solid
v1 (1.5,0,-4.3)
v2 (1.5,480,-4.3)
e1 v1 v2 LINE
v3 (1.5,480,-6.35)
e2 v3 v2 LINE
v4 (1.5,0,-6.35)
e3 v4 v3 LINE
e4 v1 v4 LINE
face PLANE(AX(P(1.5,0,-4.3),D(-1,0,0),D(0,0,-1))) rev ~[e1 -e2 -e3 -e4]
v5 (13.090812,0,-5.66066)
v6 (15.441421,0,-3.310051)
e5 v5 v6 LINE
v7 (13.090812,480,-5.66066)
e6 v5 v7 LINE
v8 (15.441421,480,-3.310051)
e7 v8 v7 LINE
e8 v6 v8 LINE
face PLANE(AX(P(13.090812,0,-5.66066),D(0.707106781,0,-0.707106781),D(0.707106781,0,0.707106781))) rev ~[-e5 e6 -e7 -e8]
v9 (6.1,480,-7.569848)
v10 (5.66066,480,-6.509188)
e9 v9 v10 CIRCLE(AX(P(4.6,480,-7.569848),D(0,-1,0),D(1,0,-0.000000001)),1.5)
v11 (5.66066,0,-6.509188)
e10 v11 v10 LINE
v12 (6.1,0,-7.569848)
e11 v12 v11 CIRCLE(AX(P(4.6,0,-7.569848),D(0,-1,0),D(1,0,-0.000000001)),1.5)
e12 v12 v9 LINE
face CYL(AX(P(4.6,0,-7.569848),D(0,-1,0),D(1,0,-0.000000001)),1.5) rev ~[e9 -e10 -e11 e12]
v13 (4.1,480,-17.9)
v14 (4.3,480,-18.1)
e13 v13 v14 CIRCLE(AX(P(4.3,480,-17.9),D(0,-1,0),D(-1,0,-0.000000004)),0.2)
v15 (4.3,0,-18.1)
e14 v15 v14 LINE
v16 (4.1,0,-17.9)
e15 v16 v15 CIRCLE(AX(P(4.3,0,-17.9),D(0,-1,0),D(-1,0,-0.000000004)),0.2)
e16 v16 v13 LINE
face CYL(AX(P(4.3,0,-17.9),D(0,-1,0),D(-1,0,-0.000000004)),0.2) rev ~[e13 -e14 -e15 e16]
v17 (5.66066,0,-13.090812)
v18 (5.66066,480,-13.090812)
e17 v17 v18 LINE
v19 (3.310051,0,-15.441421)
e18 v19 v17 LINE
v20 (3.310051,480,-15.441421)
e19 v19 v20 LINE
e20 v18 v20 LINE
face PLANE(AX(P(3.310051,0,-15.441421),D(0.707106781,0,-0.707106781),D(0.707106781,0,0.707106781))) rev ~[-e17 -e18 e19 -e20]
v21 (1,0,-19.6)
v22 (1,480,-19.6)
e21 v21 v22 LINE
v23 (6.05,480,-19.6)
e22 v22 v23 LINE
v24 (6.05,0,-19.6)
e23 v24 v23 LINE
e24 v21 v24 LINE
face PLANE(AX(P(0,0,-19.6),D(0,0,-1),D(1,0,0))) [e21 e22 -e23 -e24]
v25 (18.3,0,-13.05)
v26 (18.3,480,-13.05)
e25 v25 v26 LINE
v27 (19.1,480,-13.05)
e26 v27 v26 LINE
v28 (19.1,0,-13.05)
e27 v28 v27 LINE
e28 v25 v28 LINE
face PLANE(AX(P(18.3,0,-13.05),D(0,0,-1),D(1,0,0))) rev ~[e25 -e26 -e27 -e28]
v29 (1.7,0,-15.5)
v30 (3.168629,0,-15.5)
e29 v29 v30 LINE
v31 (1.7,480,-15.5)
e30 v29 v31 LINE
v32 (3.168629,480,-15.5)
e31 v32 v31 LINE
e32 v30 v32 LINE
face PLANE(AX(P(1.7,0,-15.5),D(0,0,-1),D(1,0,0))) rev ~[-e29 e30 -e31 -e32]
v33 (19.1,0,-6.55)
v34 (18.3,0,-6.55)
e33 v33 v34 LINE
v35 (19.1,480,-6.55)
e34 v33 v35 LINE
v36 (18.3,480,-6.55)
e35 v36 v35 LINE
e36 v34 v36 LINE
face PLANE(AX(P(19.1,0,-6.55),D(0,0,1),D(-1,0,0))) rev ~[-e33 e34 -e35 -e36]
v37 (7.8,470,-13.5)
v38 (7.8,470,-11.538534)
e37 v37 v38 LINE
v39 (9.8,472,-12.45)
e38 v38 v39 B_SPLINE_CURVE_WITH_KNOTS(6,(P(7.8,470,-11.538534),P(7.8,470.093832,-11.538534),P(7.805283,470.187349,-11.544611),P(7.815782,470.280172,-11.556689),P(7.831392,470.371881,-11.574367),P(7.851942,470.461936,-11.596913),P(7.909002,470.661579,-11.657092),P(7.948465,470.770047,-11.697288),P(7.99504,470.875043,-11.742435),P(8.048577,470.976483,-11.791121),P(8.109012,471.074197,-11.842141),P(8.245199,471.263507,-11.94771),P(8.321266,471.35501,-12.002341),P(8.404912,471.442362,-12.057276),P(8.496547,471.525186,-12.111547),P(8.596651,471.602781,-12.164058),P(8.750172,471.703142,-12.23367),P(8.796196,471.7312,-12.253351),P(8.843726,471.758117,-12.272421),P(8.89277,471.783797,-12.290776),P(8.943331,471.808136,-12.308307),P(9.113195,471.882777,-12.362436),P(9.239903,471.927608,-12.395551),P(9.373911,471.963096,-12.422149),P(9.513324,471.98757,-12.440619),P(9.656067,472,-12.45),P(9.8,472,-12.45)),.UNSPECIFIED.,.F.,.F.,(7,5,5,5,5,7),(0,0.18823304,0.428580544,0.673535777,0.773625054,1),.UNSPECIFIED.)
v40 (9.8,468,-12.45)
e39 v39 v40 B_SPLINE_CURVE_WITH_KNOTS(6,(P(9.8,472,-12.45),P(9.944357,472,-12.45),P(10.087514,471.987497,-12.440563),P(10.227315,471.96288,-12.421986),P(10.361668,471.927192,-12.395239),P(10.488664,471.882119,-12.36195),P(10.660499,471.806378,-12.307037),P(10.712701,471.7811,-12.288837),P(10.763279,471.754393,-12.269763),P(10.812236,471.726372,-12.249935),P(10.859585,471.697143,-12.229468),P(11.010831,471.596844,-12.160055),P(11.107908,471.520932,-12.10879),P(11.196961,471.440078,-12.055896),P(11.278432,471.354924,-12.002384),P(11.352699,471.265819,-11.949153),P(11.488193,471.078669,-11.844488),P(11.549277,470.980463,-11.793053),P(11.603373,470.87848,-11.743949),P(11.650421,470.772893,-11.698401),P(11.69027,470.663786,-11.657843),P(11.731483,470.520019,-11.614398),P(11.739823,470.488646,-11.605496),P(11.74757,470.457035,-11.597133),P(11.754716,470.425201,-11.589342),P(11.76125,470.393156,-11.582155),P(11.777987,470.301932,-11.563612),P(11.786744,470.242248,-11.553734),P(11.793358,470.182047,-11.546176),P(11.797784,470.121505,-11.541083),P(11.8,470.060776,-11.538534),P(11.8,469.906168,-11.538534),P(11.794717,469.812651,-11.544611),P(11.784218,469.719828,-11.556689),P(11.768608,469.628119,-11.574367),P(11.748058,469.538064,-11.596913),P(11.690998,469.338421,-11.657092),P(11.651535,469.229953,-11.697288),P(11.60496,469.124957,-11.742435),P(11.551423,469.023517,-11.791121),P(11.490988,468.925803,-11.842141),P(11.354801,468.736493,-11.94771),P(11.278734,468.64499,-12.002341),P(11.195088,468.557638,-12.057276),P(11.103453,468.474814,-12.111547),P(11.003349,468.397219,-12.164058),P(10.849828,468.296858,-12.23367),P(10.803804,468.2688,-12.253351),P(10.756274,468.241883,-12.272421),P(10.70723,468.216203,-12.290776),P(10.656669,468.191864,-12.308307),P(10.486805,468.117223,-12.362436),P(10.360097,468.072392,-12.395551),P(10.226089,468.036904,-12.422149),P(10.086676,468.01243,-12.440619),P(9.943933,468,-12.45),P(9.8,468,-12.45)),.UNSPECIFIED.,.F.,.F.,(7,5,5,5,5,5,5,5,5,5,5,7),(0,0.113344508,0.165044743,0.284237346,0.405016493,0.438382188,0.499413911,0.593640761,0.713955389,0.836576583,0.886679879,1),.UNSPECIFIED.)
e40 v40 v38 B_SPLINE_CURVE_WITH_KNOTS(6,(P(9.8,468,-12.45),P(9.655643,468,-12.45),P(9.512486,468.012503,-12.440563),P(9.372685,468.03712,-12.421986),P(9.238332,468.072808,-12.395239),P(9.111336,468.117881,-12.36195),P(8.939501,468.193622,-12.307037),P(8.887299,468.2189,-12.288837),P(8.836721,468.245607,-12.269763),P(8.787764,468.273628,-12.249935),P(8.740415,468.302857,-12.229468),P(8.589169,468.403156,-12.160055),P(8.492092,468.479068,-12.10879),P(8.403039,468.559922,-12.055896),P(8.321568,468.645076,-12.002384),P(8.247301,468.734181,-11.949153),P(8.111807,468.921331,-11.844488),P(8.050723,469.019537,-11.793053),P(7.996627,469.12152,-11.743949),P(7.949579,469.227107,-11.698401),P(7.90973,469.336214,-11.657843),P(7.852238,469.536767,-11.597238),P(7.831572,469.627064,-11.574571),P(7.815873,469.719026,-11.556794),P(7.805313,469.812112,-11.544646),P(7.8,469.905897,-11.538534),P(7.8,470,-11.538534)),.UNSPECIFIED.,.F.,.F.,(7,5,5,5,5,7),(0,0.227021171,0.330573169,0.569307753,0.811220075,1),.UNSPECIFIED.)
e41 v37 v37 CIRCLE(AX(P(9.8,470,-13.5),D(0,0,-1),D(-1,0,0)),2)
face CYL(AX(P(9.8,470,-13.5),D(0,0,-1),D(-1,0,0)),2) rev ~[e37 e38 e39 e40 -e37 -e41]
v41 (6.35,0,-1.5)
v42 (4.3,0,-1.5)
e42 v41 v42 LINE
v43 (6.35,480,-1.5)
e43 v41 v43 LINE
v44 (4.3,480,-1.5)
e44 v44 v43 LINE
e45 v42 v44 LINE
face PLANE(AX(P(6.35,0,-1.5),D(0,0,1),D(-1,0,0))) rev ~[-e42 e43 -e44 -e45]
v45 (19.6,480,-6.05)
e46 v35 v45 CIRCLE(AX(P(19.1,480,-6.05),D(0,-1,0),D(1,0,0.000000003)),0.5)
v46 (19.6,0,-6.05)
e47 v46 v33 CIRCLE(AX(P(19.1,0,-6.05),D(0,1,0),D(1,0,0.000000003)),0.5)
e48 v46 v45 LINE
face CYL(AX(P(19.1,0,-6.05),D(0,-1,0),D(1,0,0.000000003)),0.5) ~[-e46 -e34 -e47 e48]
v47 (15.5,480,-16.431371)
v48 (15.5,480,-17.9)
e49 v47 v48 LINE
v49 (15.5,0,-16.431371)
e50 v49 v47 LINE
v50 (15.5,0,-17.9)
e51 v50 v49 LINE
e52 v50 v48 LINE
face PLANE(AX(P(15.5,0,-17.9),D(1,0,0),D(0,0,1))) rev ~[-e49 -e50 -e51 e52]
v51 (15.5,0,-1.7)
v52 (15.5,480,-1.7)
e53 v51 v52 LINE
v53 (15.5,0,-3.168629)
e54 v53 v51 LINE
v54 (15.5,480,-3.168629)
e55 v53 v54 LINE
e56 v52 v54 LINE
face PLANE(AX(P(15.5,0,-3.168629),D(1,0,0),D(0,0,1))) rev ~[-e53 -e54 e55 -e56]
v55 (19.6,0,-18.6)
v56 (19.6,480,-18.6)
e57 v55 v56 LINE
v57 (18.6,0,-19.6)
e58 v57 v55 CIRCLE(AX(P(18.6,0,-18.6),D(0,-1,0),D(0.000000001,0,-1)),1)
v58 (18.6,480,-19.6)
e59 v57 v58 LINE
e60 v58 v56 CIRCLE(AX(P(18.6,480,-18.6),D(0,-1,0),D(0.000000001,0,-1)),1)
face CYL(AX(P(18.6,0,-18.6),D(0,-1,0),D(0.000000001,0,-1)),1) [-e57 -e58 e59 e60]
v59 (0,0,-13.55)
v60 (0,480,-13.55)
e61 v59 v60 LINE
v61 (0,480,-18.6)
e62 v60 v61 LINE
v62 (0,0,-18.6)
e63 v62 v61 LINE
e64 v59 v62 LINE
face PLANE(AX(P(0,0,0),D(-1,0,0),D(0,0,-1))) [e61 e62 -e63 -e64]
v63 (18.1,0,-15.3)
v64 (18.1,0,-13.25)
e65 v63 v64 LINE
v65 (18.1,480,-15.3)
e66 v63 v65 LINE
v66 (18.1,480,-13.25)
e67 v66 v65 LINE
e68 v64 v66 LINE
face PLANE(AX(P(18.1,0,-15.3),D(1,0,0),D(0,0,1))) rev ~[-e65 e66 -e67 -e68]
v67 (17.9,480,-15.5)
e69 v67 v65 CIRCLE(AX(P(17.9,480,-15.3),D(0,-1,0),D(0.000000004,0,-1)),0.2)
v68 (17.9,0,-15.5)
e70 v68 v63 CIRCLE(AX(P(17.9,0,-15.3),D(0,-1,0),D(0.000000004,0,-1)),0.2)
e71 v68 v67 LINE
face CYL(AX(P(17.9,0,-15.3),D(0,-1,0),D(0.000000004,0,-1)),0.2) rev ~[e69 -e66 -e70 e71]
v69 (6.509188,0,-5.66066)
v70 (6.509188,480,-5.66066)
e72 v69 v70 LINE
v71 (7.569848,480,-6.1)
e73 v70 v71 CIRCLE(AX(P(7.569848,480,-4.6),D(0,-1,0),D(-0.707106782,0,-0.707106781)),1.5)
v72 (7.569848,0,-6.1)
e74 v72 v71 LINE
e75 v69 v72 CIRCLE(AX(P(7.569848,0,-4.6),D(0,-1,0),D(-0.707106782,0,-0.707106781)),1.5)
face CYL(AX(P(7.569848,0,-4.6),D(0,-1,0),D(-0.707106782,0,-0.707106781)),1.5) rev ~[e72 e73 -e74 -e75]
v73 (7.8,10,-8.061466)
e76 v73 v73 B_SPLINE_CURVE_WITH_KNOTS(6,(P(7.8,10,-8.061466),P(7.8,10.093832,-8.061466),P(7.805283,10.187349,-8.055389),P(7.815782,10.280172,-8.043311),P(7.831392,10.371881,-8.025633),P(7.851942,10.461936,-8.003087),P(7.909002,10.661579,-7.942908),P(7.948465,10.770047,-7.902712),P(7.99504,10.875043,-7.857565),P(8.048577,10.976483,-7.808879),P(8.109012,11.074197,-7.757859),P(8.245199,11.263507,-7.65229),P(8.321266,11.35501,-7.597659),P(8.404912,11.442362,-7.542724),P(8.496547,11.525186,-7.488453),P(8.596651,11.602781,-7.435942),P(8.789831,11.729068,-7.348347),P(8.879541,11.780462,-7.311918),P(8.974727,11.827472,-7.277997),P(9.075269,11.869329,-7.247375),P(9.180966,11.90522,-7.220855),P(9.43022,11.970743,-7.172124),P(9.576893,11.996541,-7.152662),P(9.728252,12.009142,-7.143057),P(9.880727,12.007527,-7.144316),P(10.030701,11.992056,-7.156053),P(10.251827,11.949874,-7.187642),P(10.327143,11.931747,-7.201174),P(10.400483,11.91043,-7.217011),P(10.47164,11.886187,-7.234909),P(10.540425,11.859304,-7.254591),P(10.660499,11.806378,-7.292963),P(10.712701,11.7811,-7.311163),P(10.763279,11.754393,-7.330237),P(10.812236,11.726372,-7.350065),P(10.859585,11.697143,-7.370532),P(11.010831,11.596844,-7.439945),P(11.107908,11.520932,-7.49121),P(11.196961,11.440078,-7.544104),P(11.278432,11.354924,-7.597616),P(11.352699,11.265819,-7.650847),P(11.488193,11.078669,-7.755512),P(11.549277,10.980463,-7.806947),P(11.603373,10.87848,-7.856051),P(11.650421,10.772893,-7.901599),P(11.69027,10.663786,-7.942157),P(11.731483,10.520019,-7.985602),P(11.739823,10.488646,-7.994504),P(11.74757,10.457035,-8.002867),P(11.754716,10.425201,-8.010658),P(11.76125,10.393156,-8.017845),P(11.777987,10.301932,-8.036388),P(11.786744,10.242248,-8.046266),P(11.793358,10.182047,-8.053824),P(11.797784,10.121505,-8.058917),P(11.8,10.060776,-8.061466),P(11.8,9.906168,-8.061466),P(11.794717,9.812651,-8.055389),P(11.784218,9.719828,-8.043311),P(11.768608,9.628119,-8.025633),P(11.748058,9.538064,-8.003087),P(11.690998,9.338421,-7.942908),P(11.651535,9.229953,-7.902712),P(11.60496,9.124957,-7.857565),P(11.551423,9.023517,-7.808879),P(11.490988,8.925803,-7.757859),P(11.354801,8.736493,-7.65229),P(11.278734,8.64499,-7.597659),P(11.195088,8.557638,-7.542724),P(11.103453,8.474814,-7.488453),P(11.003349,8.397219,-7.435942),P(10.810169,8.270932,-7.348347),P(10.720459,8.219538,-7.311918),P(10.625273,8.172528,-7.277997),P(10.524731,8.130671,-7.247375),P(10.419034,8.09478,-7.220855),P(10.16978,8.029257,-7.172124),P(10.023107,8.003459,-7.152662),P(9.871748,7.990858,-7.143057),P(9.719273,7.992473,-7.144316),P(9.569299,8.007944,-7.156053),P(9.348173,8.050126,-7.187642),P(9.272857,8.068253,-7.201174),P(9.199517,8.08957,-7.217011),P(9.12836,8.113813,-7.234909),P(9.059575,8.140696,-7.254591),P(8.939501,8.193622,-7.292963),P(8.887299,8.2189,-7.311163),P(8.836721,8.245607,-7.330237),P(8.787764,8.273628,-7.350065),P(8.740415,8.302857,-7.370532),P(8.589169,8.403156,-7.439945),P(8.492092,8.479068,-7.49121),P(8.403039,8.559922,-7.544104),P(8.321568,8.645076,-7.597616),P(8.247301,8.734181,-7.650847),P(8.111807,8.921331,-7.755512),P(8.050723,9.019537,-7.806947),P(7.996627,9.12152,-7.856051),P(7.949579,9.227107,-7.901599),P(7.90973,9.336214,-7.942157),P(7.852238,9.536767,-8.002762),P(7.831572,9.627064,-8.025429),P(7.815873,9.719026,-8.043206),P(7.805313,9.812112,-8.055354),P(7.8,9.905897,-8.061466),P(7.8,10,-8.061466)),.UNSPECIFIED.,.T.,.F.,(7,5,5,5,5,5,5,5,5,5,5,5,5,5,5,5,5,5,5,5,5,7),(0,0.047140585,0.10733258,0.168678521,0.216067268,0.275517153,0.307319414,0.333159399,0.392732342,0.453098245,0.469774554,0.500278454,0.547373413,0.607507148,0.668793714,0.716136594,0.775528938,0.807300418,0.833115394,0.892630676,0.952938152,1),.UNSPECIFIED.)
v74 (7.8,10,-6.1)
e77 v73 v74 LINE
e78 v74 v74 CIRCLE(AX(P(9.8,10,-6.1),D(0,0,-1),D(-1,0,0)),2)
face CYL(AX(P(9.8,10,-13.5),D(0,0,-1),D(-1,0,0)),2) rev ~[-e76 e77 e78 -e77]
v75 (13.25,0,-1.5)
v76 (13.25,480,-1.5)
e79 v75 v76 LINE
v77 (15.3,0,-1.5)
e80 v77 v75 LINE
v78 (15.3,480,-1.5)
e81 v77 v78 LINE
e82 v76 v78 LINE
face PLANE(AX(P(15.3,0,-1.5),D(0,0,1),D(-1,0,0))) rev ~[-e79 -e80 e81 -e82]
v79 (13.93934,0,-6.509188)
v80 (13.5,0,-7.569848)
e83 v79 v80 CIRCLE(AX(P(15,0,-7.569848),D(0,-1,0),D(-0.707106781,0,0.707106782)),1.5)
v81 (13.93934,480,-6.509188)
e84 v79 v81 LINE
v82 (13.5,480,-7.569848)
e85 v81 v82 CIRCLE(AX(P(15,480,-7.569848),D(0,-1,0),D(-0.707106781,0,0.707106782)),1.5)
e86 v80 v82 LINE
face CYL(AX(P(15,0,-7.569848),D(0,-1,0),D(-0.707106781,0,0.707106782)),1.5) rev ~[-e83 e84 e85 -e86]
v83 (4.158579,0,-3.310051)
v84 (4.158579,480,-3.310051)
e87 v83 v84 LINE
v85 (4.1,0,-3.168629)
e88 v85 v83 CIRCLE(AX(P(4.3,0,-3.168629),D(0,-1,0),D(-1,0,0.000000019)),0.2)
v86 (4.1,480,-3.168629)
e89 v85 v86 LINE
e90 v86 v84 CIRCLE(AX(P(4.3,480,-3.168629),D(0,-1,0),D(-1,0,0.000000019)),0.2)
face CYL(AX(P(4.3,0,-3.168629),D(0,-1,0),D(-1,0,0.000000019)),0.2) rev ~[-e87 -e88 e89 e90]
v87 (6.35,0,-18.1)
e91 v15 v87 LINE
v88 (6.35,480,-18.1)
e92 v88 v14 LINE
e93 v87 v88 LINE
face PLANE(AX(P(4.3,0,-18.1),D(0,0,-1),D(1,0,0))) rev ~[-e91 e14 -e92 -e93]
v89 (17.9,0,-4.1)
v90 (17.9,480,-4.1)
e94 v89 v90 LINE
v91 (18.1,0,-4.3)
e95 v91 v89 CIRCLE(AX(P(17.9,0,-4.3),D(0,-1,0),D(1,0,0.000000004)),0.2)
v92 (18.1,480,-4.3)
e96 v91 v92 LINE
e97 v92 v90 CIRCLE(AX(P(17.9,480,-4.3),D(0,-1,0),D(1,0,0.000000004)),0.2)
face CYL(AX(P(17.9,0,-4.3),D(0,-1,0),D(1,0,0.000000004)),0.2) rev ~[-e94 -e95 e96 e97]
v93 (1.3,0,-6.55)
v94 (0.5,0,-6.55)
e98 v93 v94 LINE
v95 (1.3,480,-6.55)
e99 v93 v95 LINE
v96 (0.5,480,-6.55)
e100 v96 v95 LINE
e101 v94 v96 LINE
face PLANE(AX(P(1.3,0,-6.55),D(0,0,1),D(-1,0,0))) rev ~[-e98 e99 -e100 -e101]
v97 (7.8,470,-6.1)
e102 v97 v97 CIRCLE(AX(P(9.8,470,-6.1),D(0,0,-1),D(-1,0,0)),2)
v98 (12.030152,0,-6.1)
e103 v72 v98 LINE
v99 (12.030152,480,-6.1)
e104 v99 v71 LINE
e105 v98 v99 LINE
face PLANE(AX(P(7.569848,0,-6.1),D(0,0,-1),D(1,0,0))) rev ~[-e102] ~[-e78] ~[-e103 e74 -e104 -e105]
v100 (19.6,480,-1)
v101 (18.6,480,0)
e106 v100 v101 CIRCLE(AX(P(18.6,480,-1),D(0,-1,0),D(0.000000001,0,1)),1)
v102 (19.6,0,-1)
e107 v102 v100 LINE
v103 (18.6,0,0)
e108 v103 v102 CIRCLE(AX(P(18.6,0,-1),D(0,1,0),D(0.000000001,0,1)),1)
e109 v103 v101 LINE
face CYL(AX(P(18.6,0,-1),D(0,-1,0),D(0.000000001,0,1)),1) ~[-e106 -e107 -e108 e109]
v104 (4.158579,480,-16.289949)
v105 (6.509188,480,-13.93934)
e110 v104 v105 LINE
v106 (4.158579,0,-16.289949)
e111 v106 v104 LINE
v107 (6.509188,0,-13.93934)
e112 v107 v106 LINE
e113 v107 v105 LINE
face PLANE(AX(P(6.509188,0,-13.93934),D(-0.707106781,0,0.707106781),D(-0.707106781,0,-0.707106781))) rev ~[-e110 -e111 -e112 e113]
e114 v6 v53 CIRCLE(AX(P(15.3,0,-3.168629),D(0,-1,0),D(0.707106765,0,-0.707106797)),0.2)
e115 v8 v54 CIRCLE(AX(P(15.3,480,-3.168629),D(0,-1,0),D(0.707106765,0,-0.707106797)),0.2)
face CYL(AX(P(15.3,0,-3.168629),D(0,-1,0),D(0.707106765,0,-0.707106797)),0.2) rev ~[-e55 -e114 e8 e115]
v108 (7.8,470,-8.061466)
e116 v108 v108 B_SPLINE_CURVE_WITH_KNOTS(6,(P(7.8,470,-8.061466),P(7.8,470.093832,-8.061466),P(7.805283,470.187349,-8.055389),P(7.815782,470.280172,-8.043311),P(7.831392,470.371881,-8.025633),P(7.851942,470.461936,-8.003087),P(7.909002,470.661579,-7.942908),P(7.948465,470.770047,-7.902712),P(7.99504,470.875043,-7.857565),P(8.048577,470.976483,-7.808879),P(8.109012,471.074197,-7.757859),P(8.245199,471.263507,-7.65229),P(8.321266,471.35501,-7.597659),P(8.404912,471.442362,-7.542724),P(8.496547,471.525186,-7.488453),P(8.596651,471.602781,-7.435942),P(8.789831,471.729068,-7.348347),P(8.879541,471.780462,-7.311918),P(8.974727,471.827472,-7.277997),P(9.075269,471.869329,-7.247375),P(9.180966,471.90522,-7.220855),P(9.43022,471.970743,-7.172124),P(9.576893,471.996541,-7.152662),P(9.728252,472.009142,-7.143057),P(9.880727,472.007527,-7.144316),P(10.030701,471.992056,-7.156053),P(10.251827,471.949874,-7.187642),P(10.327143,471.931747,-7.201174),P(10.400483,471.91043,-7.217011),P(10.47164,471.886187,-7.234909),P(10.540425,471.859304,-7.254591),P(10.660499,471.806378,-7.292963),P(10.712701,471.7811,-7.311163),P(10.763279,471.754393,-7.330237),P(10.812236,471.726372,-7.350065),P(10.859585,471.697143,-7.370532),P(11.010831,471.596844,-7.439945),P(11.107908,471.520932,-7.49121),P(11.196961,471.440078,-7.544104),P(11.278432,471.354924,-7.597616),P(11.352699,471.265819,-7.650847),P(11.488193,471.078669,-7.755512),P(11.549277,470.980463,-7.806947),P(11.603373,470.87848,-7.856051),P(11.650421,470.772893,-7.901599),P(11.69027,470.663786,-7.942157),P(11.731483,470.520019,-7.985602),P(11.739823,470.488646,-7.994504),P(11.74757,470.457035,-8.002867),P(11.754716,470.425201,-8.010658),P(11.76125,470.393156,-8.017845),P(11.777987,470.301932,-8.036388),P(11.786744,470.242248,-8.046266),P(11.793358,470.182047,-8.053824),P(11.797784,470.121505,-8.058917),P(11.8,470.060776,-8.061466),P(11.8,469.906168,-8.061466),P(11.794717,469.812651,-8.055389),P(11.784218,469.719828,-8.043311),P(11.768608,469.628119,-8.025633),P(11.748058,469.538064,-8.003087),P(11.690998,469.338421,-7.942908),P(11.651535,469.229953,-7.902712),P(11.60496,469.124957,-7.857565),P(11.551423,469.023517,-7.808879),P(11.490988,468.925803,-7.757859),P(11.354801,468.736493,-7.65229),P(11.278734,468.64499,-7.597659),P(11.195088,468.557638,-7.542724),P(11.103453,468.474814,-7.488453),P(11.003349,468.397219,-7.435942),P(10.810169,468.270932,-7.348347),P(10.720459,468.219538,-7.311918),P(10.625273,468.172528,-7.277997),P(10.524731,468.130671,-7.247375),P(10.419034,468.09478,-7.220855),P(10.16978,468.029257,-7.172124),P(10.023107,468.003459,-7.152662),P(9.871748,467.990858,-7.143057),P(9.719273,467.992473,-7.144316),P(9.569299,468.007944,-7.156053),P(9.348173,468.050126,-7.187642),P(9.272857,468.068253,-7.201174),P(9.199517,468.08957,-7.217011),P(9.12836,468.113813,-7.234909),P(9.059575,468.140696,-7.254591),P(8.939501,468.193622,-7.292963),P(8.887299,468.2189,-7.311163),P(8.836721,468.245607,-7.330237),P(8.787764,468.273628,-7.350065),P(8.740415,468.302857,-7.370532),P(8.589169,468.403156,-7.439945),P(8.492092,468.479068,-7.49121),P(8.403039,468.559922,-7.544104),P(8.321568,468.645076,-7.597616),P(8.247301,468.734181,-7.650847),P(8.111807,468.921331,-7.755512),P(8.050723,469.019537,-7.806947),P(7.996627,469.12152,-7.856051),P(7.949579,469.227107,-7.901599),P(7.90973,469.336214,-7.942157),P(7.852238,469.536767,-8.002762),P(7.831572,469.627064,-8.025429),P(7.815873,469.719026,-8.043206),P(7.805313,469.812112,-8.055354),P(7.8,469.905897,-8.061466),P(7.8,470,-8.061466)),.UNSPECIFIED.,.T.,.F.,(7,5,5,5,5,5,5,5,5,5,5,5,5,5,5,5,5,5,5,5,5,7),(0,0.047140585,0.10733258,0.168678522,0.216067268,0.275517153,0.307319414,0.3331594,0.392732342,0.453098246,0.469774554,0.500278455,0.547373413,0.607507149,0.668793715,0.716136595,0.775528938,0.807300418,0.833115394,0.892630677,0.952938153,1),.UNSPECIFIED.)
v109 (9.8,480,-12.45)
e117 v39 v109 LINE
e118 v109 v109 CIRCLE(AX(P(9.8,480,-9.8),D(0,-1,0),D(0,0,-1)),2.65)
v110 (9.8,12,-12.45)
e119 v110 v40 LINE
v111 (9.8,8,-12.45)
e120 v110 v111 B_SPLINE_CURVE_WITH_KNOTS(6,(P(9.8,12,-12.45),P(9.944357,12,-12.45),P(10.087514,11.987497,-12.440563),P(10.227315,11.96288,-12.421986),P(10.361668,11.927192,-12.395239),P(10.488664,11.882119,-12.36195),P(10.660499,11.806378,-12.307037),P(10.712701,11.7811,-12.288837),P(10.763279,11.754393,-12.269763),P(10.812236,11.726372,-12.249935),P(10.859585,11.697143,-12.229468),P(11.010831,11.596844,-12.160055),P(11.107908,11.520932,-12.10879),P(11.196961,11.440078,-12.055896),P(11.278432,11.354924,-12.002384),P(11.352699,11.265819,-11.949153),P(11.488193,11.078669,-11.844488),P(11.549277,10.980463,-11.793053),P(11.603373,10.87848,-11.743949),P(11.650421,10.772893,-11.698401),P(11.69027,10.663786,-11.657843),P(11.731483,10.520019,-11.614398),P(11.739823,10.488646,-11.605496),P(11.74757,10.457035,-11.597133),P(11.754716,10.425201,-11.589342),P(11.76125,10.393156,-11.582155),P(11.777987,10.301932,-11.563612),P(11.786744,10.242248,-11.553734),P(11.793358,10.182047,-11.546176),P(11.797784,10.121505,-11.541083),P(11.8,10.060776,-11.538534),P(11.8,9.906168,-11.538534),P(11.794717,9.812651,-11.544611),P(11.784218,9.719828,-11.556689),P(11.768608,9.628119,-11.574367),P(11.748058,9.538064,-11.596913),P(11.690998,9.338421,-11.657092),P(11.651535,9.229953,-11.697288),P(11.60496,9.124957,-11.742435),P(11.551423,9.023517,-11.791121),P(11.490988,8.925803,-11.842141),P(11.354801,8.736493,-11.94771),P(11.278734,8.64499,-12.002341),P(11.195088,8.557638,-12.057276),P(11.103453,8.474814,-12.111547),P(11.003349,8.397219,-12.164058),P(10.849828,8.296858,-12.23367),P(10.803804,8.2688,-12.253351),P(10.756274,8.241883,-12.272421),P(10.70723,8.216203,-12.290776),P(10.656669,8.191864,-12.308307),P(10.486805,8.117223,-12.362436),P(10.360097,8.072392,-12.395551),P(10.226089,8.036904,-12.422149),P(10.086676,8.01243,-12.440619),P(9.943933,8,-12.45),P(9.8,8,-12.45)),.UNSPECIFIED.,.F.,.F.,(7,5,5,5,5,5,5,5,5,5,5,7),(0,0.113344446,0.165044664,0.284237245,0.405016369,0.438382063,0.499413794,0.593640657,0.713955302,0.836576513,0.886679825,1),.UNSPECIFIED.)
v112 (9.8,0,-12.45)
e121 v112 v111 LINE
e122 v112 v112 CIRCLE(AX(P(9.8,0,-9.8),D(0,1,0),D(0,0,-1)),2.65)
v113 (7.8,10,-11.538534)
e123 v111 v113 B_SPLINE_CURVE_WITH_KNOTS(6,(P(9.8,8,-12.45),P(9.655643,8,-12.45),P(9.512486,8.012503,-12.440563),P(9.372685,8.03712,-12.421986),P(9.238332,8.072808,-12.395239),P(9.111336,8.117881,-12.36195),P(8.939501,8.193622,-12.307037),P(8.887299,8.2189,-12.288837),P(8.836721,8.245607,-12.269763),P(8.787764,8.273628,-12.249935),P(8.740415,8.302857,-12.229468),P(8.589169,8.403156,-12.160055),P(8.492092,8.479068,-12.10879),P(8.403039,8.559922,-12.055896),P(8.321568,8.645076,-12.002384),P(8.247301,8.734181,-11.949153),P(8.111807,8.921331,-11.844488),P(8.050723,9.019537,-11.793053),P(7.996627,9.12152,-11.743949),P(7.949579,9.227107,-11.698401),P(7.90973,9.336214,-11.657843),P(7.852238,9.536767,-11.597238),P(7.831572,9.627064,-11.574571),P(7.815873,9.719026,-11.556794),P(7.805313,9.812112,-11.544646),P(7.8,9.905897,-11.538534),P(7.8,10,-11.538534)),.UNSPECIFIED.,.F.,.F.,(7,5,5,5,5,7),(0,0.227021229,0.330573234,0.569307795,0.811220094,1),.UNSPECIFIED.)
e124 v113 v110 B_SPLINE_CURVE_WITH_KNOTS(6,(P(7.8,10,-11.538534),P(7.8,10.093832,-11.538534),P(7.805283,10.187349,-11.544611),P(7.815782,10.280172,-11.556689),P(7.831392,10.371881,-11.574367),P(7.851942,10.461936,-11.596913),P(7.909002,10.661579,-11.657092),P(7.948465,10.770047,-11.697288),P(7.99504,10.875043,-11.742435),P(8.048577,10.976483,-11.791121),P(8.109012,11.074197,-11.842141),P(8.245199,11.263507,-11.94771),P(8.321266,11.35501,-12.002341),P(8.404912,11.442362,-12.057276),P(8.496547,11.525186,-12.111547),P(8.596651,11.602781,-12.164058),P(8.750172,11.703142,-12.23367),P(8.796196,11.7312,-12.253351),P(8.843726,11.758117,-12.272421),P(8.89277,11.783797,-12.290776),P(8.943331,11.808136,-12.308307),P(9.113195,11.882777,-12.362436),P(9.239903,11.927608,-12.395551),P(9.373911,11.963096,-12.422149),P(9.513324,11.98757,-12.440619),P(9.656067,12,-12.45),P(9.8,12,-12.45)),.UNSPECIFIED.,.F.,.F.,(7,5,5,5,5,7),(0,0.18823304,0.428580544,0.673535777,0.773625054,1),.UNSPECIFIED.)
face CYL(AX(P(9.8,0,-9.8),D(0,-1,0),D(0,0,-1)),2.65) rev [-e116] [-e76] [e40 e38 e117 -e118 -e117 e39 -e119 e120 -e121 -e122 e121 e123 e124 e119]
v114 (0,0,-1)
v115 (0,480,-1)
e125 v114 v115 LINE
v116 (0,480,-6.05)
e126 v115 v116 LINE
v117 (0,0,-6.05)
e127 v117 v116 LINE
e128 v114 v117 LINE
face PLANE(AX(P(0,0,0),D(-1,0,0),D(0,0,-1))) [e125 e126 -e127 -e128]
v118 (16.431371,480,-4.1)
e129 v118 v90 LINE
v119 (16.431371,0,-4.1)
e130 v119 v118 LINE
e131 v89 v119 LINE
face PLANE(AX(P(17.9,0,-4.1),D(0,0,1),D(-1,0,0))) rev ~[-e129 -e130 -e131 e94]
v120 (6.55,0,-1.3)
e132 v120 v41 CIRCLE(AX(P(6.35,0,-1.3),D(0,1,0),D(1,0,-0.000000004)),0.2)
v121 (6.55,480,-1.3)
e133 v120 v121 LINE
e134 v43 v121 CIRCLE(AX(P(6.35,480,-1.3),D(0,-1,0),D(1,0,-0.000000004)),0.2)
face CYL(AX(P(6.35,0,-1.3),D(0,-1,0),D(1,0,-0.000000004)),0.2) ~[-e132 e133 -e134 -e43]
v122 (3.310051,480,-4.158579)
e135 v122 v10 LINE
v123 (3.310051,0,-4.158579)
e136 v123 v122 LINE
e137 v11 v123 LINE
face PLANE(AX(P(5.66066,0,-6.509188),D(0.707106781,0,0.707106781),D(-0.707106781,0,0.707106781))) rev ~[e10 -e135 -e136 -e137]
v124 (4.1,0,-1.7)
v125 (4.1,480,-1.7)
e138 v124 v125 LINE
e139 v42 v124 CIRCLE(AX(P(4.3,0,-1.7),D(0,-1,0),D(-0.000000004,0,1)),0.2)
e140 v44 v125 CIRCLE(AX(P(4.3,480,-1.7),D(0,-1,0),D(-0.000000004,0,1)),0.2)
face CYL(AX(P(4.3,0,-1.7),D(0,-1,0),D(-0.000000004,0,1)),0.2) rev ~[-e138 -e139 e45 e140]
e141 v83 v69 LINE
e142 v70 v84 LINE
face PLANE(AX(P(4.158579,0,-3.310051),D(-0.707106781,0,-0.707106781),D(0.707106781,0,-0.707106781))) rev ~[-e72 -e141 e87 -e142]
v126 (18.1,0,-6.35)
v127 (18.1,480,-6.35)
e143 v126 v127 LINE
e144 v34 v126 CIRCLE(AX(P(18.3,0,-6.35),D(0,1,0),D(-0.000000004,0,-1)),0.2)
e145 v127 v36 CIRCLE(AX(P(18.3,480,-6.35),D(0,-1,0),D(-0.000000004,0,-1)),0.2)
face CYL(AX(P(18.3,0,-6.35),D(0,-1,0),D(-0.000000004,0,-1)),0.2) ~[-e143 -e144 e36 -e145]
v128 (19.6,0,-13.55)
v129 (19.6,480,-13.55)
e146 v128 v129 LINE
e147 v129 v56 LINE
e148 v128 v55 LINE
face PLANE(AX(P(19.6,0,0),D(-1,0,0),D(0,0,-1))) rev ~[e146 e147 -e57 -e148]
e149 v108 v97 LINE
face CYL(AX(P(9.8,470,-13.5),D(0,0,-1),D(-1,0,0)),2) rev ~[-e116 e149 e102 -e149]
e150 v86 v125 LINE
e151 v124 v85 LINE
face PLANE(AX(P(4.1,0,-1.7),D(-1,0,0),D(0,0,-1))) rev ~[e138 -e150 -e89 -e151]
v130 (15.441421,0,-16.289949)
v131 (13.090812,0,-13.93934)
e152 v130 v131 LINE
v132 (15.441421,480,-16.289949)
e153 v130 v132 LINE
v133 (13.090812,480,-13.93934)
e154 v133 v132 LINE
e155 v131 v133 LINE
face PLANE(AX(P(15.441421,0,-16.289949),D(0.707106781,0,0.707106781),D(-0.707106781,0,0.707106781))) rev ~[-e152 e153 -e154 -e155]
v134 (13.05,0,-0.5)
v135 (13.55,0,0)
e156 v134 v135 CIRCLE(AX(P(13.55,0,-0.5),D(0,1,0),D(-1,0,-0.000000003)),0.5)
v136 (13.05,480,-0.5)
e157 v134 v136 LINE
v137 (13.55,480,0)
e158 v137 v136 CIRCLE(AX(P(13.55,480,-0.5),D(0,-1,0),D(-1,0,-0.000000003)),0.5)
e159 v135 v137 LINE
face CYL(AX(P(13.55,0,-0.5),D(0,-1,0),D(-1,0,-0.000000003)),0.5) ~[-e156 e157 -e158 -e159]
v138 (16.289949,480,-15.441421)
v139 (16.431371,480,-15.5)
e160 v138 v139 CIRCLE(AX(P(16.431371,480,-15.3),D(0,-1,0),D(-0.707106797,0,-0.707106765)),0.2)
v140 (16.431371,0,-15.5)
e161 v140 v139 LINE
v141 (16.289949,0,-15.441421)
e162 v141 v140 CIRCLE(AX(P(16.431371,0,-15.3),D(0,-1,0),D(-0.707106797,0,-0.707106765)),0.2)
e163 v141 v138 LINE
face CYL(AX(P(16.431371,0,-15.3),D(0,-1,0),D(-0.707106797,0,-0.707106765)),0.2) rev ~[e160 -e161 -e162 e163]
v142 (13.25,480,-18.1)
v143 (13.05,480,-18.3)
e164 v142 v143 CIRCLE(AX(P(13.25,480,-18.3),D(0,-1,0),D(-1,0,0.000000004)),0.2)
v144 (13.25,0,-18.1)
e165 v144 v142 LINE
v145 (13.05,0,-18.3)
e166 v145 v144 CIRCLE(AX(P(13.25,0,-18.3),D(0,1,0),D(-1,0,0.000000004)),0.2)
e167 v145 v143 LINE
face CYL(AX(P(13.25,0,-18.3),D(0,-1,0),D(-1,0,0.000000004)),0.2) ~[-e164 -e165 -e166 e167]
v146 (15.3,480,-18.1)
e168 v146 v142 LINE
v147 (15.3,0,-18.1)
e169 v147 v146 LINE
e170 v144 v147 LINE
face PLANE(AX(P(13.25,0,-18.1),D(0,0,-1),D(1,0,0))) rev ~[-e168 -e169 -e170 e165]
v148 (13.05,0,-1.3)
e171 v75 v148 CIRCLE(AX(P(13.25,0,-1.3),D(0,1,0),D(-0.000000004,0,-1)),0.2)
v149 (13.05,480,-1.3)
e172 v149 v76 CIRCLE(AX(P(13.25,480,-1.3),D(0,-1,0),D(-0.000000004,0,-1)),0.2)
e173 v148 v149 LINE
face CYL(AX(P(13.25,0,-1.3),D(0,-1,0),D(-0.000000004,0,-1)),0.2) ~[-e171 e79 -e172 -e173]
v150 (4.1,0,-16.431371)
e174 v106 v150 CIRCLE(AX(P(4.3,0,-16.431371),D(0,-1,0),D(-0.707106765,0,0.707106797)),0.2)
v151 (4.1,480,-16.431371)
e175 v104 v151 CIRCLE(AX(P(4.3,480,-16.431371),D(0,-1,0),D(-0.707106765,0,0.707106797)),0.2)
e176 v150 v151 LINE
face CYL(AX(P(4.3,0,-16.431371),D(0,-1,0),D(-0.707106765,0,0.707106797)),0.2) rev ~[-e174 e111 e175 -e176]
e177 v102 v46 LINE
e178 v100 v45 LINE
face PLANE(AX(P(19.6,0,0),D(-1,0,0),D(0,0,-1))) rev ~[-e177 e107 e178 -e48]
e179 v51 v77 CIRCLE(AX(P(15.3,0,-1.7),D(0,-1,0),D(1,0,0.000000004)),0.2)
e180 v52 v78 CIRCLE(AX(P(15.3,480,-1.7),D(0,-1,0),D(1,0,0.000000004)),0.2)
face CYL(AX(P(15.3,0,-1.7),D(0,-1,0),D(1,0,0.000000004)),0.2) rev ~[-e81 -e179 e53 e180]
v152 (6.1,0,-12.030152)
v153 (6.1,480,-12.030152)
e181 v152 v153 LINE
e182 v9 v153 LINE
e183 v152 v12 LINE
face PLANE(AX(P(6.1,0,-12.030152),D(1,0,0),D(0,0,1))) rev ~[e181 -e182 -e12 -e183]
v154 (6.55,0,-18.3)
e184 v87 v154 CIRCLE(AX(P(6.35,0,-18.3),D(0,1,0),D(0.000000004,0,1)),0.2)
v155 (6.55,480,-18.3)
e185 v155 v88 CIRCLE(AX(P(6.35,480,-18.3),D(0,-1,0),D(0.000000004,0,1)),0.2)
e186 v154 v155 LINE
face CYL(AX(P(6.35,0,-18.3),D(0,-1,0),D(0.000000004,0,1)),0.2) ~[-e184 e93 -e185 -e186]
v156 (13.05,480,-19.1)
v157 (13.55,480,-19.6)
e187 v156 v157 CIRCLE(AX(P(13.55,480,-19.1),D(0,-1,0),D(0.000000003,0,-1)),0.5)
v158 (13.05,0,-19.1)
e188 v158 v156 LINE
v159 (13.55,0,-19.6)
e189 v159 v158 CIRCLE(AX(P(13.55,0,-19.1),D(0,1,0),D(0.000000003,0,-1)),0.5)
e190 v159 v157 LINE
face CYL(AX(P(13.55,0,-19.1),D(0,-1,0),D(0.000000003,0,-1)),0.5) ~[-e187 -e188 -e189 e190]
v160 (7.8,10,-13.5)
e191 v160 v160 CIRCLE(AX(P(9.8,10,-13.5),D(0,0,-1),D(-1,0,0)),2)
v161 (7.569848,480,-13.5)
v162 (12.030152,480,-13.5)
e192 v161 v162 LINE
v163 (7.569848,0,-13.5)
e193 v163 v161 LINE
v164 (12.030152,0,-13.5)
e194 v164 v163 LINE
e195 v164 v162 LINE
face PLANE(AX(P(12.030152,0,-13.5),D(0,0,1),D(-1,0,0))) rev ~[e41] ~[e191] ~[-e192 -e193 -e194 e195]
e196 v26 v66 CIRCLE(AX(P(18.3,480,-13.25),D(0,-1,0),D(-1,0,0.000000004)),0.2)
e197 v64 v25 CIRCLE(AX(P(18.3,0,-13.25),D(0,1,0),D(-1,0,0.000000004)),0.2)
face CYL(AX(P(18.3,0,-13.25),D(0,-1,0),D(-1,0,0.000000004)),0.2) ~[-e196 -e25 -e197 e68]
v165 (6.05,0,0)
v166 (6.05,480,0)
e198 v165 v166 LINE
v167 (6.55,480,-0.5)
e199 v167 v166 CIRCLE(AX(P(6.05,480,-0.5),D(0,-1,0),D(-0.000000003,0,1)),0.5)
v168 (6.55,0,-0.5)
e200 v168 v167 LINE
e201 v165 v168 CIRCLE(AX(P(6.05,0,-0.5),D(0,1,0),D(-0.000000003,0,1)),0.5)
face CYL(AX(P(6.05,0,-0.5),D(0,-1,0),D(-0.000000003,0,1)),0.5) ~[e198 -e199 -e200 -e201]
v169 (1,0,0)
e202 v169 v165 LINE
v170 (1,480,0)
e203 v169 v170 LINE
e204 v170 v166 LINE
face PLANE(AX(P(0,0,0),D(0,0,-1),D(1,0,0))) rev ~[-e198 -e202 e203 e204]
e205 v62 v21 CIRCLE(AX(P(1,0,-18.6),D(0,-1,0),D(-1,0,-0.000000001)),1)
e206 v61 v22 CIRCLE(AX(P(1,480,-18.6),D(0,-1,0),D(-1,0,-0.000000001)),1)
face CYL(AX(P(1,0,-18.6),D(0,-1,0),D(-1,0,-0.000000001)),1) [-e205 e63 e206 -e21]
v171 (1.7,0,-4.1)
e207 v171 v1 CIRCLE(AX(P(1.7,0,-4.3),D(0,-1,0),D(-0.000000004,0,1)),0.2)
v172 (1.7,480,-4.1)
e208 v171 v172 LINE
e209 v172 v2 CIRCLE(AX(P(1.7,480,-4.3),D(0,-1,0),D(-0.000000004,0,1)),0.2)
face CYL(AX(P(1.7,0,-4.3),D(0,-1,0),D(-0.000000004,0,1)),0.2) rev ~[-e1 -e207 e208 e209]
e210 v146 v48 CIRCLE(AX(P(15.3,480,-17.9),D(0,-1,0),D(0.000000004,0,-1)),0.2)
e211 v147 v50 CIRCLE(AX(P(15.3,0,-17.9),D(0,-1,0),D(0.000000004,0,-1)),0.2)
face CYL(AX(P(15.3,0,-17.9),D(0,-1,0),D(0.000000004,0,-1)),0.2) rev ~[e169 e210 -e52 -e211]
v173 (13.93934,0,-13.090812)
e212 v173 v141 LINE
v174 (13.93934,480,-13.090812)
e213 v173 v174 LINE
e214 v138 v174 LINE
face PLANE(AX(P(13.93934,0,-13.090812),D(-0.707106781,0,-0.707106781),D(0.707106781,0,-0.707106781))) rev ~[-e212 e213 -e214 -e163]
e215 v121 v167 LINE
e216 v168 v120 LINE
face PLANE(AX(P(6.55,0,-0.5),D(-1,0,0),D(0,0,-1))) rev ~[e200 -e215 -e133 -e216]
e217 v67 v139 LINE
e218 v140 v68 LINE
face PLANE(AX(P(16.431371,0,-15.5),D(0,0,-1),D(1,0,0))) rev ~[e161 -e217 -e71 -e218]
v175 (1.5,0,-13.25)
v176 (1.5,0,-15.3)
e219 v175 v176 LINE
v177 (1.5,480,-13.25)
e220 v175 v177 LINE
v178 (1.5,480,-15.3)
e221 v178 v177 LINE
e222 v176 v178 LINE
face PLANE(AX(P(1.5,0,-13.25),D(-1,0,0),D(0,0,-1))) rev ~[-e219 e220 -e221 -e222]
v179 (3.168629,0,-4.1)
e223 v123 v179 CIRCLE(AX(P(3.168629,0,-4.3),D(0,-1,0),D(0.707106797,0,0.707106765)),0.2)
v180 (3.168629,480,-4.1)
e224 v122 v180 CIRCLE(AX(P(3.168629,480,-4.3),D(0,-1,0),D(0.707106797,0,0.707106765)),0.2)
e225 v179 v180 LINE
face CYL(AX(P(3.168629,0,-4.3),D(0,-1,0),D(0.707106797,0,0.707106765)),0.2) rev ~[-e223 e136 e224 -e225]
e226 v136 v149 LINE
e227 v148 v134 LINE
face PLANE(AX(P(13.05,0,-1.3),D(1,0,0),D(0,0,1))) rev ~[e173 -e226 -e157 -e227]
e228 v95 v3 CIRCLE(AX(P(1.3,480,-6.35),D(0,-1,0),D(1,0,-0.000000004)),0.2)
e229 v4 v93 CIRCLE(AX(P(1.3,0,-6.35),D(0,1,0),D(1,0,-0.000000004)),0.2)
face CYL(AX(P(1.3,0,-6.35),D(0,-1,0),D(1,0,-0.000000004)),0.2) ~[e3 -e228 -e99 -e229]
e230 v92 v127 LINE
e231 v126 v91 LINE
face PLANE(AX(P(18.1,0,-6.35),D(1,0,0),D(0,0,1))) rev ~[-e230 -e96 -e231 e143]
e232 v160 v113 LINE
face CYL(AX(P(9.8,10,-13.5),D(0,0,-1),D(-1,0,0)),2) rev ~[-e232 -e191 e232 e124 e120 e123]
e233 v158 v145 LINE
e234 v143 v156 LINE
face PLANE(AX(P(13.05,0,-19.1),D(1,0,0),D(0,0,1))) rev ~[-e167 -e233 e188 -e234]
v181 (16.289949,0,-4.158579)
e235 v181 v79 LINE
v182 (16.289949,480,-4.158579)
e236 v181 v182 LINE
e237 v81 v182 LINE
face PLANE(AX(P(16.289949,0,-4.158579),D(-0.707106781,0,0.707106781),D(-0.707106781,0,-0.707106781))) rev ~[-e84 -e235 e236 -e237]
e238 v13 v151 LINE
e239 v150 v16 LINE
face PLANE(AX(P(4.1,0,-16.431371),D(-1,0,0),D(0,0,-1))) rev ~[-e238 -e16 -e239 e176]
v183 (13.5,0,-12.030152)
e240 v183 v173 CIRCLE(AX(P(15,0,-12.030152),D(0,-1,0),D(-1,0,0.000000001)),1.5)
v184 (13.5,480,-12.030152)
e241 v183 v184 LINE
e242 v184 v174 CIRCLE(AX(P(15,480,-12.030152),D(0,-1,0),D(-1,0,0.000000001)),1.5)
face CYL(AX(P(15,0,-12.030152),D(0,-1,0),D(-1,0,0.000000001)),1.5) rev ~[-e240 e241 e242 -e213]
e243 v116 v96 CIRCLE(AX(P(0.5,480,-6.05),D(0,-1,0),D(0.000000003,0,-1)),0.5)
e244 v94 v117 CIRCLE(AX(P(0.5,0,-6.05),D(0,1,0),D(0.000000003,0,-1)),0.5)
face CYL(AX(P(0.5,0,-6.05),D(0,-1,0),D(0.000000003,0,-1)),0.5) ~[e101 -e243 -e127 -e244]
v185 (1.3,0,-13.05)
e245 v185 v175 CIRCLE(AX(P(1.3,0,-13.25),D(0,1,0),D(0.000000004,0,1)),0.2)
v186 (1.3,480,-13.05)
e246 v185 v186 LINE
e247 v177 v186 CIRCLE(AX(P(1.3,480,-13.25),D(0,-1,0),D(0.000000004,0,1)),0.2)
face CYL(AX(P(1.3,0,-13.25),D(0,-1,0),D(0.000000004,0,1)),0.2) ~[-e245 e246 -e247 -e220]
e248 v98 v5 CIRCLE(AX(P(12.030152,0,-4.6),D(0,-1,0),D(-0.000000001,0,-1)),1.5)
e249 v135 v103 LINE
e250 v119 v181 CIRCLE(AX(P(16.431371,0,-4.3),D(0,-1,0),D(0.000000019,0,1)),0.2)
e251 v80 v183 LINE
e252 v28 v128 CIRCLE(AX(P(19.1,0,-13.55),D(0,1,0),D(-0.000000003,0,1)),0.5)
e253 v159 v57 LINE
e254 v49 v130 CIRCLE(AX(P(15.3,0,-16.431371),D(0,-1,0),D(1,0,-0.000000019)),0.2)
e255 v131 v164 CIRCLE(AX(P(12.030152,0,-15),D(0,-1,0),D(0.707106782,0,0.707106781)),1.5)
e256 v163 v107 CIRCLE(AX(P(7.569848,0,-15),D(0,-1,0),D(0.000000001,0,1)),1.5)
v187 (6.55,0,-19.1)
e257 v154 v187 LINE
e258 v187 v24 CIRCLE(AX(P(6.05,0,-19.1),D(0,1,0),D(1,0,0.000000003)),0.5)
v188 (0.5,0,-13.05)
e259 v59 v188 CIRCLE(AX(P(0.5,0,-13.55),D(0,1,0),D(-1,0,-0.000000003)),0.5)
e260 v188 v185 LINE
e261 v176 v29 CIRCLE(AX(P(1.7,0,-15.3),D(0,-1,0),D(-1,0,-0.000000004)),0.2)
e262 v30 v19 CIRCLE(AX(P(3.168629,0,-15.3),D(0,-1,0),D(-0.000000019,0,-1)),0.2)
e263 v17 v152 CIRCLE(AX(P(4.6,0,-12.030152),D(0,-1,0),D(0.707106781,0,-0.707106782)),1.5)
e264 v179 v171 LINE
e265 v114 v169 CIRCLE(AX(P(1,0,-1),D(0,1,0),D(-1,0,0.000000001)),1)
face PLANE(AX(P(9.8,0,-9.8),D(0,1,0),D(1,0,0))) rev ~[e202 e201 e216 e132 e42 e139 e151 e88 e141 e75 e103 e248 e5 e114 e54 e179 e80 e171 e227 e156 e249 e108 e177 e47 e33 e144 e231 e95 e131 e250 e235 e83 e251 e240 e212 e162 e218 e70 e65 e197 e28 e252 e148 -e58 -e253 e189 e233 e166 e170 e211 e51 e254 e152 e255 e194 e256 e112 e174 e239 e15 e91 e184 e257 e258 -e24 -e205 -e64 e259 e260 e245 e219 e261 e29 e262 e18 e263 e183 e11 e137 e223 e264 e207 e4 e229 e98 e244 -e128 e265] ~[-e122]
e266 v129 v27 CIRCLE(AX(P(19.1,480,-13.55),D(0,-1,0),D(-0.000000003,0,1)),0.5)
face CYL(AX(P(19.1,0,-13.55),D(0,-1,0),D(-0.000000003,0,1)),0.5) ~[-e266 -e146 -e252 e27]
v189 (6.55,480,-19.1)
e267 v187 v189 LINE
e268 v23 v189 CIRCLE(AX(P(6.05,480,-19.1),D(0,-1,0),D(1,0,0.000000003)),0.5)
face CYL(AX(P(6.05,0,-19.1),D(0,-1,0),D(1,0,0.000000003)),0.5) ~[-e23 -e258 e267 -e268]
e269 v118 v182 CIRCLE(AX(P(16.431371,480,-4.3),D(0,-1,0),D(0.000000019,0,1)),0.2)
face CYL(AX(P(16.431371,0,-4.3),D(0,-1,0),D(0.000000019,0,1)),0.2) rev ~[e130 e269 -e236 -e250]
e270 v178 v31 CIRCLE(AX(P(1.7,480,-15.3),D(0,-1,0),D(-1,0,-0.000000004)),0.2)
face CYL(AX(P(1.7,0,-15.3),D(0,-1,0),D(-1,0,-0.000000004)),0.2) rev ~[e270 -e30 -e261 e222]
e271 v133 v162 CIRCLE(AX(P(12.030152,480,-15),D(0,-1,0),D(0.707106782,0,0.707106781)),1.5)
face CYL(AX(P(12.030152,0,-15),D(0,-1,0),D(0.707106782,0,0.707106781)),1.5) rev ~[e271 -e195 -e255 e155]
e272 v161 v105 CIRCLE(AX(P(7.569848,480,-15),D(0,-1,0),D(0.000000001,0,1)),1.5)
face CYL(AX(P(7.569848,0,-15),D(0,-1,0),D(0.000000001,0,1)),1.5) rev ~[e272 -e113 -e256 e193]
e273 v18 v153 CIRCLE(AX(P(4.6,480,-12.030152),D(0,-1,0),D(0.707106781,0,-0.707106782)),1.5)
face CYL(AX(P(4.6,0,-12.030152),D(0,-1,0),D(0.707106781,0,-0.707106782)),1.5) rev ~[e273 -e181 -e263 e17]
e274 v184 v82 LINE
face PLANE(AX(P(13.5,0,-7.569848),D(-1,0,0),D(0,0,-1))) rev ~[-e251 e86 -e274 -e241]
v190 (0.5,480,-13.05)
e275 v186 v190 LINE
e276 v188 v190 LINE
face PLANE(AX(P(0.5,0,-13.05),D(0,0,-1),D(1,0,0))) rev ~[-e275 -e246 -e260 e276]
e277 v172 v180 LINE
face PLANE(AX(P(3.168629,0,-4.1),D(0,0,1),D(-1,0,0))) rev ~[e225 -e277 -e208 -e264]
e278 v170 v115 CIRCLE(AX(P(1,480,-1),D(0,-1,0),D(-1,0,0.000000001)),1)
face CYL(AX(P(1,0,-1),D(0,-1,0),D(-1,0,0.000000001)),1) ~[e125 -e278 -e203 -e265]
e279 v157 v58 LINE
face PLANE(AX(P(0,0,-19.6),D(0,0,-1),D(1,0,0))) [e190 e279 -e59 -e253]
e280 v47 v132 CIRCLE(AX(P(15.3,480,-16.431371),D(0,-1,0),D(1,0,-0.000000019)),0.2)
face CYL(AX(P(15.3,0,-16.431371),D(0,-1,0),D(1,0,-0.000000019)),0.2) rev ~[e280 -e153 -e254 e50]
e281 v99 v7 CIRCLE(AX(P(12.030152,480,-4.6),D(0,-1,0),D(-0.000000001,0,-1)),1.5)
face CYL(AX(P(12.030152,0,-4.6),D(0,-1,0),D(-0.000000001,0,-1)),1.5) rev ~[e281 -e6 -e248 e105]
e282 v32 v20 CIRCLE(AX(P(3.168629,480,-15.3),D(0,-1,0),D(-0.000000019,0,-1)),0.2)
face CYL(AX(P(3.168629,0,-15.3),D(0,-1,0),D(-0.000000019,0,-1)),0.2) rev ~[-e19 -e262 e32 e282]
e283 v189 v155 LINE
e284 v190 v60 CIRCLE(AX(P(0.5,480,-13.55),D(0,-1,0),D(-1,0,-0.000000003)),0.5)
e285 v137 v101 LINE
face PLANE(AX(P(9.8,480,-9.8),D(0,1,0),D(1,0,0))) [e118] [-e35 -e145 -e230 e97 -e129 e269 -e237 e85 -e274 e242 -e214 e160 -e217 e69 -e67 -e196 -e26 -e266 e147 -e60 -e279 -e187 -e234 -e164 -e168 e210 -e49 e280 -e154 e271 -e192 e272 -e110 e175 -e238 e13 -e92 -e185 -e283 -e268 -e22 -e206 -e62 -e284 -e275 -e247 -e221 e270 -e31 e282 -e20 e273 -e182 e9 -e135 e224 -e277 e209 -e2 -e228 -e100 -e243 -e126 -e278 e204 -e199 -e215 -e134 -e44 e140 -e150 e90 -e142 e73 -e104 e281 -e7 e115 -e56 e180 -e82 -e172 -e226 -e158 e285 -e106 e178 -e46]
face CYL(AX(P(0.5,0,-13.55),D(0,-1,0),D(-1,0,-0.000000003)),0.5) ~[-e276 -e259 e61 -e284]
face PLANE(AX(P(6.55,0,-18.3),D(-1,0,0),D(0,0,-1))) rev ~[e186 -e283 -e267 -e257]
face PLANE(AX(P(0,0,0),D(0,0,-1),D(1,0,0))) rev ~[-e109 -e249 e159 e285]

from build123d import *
from build123d.topology import SkipClean

# Parameters (mm, degrees)
SKETCH1_W           = 19.6
SKETCH1_H           = 19.6
BOSS_EXTRUDE1_DEPTH = 480
CUT_EXTRUDE3_DEPTH  = 481.799667221
SKETCH6_R           = 2
CUT_EXTRUDE5_DEPTH  = 10


with BuildPart() as part:
    # Sketch1 → Boss-Extrude1 (new body)
    with BuildSketch(Plane(origin=(0, 0, 0), x_dir=(1, 0, 0), z_dir=(0, 1, 0))):
        with Locations((9.8, 9.8)):
            Rectangle(SKETCH1_W, SKETCH1_H)
    extrude(amount=BOSS_EXTRUDE1_DEPTH)

    # Sketch4 → Cut-Extrude3 (cut, through all)
    with BuildSketch(Plane.XZ):
        with BuildLine():
            Line((6.05, -19.6), (13.55, -19.6))
            ThreePointArc((13.55, -19.6), (13.196446609, -19.453553391), (13.05, -19.1))
            Line((13.05, -19.1), (13.05, -18.3))
            ThreePointArc((13.05, -18.3), (13.108578644, -18.158578644), (13.25, -18.1))
            Line((13.25, -18.1), (15.3, -18.1))
            ThreePointArc((15.3, -18.1), (15.441421356, -18.041421356), (15.5, -17.9))
            Line((15.5, -17.9), (15.5, -16.43137085))
            ThreePointArc((15.5, -16.43137085), (15.484775907, -16.354834163), (15.441421356, -16.289949494))
            Line((15.441421356, -16.289949494), (13.090811691, -13.939339828))
            ThreePointArc((13.090811691, -13.939339828), (12.604176668, -13.614180701), (12.030151519, -13.5))
            Line((12.030151519, -13.5), (9.8, -13.5))
            Line((9.8, -13.5), (7.569848481, -13.5))
            ThreePointArc((7.569848481, -13.5), (6.995823332, -13.614180701), (6.509188309, -13.939339828))
            Line((6.509188309, -13.939339828), (4.158578644, -16.289949494))
            ThreePointArc((4.158578644, -16.289949494), (4.115224093, -16.354834163), (4.1, -16.43137085))
            Line((4.1, -16.43137085), (4.1, -17.9))
            ThreePointArc((4.1, -17.9), (4.158578644, -18.041421356), (4.3, -18.1))
            Line((4.3, -18.1), (6.35, -18.1))
            ThreePointArc((6.35, -18.1), (6.491421356, -18.158578644), (6.55, -18.3))
            Line((6.55, -18.3), (6.55, -19.1))
            ThreePointArc((6.55, -19.1), (6.403553391, -19.453553391), (6.05, -19.6))
        make_face()
        with BuildLine():
            Line((0, -6.05), (0, -13.55))
            ThreePointArc((0, -13.55), (0.146446609, -13.196446609), (0.5, -13.05))
            Line((0.5, -13.05), (1.3, -13.05))
            ThreePointArc((1.3, -13.05), (1.441421356, -13.108578644), (1.5, -13.25))
            Line((1.5, -13.25), (1.5, -15.3))
            ThreePointArc((1.5, -15.3), (1.558578644, -15.441421356), (1.7, -15.5))
            Line((1.7, -15.5), (3.16862915, -15.5))
            ThreePointArc((3.16862915, -15.5), (3.245165837, -15.484775907), (3.310050506, -15.441421356))
            Line((3.310050506, -15.441421356), (5.660660172, -13.090811691))
            ThreePointArc((5.660660172, -13.090811691), (5.985819299, -12.604176668), (6.1, -12.030151519))
            Line((6.1, -12.030151519), (6.1, -7.569848481))
            ThreePointArc((6.1, -7.569848481), (5.985819299, -6.995823332), (5.660660172, -6.509188309))
            Line((5.660660172, -6.509188309), (3.310050506, -4.158578644))
            ThreePointArc((3.310050506, -4.158578644), (3.245165837, -4.115224093), (3.16862915, -4.1))
            Line((3.16862915, -4.1), (1.7, -4.1))
            ThreePointArc((1.7, -4.1), (1.558578644, -4.158578644), (1.5, -4.3))
            Line((1.5, -4.3), (1.5, -6.35))
            ThreePointArc((1.5, -6.35), (1.441421356, -6.491421356), (1.3, -6.55))
            Line((1.3, -6.55), (0.5, -6.55))
            ThreePointArc((0.5, -6.55), (0.146446609, -6.403553391), (0, -6.05))
        make_face()
        with BuildLine():
            ThreePointArc((19.1, -13.05), (19.453553391, -13.196446609), (19.6, -13.55))
            Line((19.6, -13.55), (19.6, -6.05))
            ThreePointArc((19.6, -6.05), (19.453553391, -6.403553391), (19.1, -6.55))
            Line((19.1, -6.55), (18.3, -6.55))
            ThreePointArc((18.3, -6.55), (18.158578644, -6.491421356), (18.1, -6.35))
            Line((18.1, -6.35), (18.1, -4.3))
            ThreePointArc((18.1, -4.3), (18.041421356, -4.158578644), (17.9, -4.1))
            Line((17.9, -4.1), (16.43137085, -4.1))
            ThreePointArc((16.43137085, -4.1), (16.354834163, -4.115224093), (16.289949494, -4.158578644))
            Line((16.289949494, -4.158578644), (13.939339828, -6.509188309))
            ThreePointArc((13.939339828, -6.509188309), (13.614180701, -6.995823332), (13.5, -7.569848481))
            Line((13.5, -7.569848481), (13.5, -12.030151519))
            ThreePointArc((13.5, -12.030151519), (13.614180701, -12.604176668), (13.939339828, -13.090811691))
            Line((13.939339828, -13.090811691), (16.289949494, -15.441421356))
            ThreePointArc((16.289949494, -15.441421356), (16.354834163, -15.484775907), (16.43137085, -15.5))
            Line((16.43137085, -15.5), (17.9, -15.5))
            ThreePointArc((17.9, -15.5), (18.041421356, -15.441421356), (18.1, -15.3))
            Line((18.1, -15.3), (18.1, -13.25))
            ThreePointArc((18.1, -13.25), (18.158578644, -13.108578644), (18.3, -13.05))
            Line((18.3, -13.05), (19.1, -13.05))
        make_face()
        with BuildLine():
            ThreePointArc((13.05, -0.5), (13.196446609, -0.146446609), (13.55, 0))
            Line((13.55, 0), (6.05, 0))
            ThreePointArc((6.05, 0), (6.403553391, -0.146446609), (6.55, -0.5))
            Line((6.55, -0.5), (6.55, -1.3))
            ThreePointArc((6.55, -1.3), (6.491421356, -1.441421356), (6.35, -1.5))
            Line((6.35, -1.5), (4.3, -1.5))
            ThreePointArc((4.3, -1.5), (4.158578644, -1.558578644), (4.1, -1.7))
            Line((4.1, -1.7), (4.1, -3.16862915))
            ThreePointArc((4.1, -3.16862915), (4.115224093, -3.245165837), (4.158578644, -3.310050506))
            Line((4.158578644, -3.310050506), (6.509188309, -5.660660172))
            ThreePointArc((6.509188309, -5.660660172), (6.995823332, -5.985819299), (7.569848481, -6.1))
            Line((7.569848481, -6.1), (9.8, -6.1))
            Line((9.8, -6.1), (12.030151519, -6.1))
            ThreePointArc((12.030151519, -6.1), (12.604176668, -5.985819299), (13.090811691, -5.660660172))
            Line((13.090811691, -5.660660172), (15.441421356, -3.310050506))
            ThreePointArc((15.441421356, -3.310050506), (15.484775907, -3.245165837), (15.5, -3.16862915))
            Line((15.5, -3.16862915), (15.5, -1.7))
            ThreePointArc((15.5, -1.7), (15.441421356, -1.558578644), (15.3, -1.5))
            Line((15.3, -1.5), (13.25, -1.5))
            ThreePointArc((13.25, -1.5), (13.108578644, -1.441421356), (13.05, -1.3))
            Line((13.05, -1.3), (13.05, -0.5))
        make_face()
        with BuildLine():
            ThreePointArc((18.6, 0), (19.307106781, -0.292893219), (19.6, -1))
            Line((19.6, -1), (19.6, 0))
            Line((19.6, 0), (18.6, 0))
        make_face()
        with BuildLine():
            ThreePointArc((0, -1), (0.292893219, -0.292893219), (1, 0))
            Line((1, 0), (0, 0))
            Line((0, 0), (0, -1))
        make_face()
        with BuildLine():
            ThreePointArc((9.8, -7.15), (12.45, -9.8), (9.8, -12.45))
            ThreePointArc((9.8, -12.45), (7.15, -9.8), (9.8, -7.15))
        make_face()
        with BuildLine():
            Line((19.6, -19.6), (18.6, -19.6))
            ThreePointArc((18.6, -19.6), (19.307106781, -19.307106781), (19.6, -18.6))
            Line((19.6, -18.6), (19.6, -19.6))
        make_face()
        with BuildLine():
            Line((0, -19.6), (0, -18.6))
            ThreePointArc((0, -18.6), (0.292893219, -19.307106781), (1, -19.6))
            Line((1, -19.6), (0, -19.6))
        make_face()
    extrude(amount=-CUT_EXTRUDE3_DEPTH, mode=Mode.SUBTRACT)

    # Sketch6 → Cut-Extrude5 (cut)
    with SkipClean():  # the faces are left unmerged after this step: merging them gives an invalid solid
        with BuildSketch(Plane(origin=(0, 0, -13.5), x_dir=(-1, 0, 0), z_dir=(0, 0, -1))):
            with Locations((-9.8, 10)):
                Circle(SKETCH6_R)
            with Locations((-9.8, 470)):
                Circle(SKETCH6_R)
        extrude(amount=-CUT_EXTRUDE5_DEPTH, mode=Mode.SUBTRACT)


solid = part.part
